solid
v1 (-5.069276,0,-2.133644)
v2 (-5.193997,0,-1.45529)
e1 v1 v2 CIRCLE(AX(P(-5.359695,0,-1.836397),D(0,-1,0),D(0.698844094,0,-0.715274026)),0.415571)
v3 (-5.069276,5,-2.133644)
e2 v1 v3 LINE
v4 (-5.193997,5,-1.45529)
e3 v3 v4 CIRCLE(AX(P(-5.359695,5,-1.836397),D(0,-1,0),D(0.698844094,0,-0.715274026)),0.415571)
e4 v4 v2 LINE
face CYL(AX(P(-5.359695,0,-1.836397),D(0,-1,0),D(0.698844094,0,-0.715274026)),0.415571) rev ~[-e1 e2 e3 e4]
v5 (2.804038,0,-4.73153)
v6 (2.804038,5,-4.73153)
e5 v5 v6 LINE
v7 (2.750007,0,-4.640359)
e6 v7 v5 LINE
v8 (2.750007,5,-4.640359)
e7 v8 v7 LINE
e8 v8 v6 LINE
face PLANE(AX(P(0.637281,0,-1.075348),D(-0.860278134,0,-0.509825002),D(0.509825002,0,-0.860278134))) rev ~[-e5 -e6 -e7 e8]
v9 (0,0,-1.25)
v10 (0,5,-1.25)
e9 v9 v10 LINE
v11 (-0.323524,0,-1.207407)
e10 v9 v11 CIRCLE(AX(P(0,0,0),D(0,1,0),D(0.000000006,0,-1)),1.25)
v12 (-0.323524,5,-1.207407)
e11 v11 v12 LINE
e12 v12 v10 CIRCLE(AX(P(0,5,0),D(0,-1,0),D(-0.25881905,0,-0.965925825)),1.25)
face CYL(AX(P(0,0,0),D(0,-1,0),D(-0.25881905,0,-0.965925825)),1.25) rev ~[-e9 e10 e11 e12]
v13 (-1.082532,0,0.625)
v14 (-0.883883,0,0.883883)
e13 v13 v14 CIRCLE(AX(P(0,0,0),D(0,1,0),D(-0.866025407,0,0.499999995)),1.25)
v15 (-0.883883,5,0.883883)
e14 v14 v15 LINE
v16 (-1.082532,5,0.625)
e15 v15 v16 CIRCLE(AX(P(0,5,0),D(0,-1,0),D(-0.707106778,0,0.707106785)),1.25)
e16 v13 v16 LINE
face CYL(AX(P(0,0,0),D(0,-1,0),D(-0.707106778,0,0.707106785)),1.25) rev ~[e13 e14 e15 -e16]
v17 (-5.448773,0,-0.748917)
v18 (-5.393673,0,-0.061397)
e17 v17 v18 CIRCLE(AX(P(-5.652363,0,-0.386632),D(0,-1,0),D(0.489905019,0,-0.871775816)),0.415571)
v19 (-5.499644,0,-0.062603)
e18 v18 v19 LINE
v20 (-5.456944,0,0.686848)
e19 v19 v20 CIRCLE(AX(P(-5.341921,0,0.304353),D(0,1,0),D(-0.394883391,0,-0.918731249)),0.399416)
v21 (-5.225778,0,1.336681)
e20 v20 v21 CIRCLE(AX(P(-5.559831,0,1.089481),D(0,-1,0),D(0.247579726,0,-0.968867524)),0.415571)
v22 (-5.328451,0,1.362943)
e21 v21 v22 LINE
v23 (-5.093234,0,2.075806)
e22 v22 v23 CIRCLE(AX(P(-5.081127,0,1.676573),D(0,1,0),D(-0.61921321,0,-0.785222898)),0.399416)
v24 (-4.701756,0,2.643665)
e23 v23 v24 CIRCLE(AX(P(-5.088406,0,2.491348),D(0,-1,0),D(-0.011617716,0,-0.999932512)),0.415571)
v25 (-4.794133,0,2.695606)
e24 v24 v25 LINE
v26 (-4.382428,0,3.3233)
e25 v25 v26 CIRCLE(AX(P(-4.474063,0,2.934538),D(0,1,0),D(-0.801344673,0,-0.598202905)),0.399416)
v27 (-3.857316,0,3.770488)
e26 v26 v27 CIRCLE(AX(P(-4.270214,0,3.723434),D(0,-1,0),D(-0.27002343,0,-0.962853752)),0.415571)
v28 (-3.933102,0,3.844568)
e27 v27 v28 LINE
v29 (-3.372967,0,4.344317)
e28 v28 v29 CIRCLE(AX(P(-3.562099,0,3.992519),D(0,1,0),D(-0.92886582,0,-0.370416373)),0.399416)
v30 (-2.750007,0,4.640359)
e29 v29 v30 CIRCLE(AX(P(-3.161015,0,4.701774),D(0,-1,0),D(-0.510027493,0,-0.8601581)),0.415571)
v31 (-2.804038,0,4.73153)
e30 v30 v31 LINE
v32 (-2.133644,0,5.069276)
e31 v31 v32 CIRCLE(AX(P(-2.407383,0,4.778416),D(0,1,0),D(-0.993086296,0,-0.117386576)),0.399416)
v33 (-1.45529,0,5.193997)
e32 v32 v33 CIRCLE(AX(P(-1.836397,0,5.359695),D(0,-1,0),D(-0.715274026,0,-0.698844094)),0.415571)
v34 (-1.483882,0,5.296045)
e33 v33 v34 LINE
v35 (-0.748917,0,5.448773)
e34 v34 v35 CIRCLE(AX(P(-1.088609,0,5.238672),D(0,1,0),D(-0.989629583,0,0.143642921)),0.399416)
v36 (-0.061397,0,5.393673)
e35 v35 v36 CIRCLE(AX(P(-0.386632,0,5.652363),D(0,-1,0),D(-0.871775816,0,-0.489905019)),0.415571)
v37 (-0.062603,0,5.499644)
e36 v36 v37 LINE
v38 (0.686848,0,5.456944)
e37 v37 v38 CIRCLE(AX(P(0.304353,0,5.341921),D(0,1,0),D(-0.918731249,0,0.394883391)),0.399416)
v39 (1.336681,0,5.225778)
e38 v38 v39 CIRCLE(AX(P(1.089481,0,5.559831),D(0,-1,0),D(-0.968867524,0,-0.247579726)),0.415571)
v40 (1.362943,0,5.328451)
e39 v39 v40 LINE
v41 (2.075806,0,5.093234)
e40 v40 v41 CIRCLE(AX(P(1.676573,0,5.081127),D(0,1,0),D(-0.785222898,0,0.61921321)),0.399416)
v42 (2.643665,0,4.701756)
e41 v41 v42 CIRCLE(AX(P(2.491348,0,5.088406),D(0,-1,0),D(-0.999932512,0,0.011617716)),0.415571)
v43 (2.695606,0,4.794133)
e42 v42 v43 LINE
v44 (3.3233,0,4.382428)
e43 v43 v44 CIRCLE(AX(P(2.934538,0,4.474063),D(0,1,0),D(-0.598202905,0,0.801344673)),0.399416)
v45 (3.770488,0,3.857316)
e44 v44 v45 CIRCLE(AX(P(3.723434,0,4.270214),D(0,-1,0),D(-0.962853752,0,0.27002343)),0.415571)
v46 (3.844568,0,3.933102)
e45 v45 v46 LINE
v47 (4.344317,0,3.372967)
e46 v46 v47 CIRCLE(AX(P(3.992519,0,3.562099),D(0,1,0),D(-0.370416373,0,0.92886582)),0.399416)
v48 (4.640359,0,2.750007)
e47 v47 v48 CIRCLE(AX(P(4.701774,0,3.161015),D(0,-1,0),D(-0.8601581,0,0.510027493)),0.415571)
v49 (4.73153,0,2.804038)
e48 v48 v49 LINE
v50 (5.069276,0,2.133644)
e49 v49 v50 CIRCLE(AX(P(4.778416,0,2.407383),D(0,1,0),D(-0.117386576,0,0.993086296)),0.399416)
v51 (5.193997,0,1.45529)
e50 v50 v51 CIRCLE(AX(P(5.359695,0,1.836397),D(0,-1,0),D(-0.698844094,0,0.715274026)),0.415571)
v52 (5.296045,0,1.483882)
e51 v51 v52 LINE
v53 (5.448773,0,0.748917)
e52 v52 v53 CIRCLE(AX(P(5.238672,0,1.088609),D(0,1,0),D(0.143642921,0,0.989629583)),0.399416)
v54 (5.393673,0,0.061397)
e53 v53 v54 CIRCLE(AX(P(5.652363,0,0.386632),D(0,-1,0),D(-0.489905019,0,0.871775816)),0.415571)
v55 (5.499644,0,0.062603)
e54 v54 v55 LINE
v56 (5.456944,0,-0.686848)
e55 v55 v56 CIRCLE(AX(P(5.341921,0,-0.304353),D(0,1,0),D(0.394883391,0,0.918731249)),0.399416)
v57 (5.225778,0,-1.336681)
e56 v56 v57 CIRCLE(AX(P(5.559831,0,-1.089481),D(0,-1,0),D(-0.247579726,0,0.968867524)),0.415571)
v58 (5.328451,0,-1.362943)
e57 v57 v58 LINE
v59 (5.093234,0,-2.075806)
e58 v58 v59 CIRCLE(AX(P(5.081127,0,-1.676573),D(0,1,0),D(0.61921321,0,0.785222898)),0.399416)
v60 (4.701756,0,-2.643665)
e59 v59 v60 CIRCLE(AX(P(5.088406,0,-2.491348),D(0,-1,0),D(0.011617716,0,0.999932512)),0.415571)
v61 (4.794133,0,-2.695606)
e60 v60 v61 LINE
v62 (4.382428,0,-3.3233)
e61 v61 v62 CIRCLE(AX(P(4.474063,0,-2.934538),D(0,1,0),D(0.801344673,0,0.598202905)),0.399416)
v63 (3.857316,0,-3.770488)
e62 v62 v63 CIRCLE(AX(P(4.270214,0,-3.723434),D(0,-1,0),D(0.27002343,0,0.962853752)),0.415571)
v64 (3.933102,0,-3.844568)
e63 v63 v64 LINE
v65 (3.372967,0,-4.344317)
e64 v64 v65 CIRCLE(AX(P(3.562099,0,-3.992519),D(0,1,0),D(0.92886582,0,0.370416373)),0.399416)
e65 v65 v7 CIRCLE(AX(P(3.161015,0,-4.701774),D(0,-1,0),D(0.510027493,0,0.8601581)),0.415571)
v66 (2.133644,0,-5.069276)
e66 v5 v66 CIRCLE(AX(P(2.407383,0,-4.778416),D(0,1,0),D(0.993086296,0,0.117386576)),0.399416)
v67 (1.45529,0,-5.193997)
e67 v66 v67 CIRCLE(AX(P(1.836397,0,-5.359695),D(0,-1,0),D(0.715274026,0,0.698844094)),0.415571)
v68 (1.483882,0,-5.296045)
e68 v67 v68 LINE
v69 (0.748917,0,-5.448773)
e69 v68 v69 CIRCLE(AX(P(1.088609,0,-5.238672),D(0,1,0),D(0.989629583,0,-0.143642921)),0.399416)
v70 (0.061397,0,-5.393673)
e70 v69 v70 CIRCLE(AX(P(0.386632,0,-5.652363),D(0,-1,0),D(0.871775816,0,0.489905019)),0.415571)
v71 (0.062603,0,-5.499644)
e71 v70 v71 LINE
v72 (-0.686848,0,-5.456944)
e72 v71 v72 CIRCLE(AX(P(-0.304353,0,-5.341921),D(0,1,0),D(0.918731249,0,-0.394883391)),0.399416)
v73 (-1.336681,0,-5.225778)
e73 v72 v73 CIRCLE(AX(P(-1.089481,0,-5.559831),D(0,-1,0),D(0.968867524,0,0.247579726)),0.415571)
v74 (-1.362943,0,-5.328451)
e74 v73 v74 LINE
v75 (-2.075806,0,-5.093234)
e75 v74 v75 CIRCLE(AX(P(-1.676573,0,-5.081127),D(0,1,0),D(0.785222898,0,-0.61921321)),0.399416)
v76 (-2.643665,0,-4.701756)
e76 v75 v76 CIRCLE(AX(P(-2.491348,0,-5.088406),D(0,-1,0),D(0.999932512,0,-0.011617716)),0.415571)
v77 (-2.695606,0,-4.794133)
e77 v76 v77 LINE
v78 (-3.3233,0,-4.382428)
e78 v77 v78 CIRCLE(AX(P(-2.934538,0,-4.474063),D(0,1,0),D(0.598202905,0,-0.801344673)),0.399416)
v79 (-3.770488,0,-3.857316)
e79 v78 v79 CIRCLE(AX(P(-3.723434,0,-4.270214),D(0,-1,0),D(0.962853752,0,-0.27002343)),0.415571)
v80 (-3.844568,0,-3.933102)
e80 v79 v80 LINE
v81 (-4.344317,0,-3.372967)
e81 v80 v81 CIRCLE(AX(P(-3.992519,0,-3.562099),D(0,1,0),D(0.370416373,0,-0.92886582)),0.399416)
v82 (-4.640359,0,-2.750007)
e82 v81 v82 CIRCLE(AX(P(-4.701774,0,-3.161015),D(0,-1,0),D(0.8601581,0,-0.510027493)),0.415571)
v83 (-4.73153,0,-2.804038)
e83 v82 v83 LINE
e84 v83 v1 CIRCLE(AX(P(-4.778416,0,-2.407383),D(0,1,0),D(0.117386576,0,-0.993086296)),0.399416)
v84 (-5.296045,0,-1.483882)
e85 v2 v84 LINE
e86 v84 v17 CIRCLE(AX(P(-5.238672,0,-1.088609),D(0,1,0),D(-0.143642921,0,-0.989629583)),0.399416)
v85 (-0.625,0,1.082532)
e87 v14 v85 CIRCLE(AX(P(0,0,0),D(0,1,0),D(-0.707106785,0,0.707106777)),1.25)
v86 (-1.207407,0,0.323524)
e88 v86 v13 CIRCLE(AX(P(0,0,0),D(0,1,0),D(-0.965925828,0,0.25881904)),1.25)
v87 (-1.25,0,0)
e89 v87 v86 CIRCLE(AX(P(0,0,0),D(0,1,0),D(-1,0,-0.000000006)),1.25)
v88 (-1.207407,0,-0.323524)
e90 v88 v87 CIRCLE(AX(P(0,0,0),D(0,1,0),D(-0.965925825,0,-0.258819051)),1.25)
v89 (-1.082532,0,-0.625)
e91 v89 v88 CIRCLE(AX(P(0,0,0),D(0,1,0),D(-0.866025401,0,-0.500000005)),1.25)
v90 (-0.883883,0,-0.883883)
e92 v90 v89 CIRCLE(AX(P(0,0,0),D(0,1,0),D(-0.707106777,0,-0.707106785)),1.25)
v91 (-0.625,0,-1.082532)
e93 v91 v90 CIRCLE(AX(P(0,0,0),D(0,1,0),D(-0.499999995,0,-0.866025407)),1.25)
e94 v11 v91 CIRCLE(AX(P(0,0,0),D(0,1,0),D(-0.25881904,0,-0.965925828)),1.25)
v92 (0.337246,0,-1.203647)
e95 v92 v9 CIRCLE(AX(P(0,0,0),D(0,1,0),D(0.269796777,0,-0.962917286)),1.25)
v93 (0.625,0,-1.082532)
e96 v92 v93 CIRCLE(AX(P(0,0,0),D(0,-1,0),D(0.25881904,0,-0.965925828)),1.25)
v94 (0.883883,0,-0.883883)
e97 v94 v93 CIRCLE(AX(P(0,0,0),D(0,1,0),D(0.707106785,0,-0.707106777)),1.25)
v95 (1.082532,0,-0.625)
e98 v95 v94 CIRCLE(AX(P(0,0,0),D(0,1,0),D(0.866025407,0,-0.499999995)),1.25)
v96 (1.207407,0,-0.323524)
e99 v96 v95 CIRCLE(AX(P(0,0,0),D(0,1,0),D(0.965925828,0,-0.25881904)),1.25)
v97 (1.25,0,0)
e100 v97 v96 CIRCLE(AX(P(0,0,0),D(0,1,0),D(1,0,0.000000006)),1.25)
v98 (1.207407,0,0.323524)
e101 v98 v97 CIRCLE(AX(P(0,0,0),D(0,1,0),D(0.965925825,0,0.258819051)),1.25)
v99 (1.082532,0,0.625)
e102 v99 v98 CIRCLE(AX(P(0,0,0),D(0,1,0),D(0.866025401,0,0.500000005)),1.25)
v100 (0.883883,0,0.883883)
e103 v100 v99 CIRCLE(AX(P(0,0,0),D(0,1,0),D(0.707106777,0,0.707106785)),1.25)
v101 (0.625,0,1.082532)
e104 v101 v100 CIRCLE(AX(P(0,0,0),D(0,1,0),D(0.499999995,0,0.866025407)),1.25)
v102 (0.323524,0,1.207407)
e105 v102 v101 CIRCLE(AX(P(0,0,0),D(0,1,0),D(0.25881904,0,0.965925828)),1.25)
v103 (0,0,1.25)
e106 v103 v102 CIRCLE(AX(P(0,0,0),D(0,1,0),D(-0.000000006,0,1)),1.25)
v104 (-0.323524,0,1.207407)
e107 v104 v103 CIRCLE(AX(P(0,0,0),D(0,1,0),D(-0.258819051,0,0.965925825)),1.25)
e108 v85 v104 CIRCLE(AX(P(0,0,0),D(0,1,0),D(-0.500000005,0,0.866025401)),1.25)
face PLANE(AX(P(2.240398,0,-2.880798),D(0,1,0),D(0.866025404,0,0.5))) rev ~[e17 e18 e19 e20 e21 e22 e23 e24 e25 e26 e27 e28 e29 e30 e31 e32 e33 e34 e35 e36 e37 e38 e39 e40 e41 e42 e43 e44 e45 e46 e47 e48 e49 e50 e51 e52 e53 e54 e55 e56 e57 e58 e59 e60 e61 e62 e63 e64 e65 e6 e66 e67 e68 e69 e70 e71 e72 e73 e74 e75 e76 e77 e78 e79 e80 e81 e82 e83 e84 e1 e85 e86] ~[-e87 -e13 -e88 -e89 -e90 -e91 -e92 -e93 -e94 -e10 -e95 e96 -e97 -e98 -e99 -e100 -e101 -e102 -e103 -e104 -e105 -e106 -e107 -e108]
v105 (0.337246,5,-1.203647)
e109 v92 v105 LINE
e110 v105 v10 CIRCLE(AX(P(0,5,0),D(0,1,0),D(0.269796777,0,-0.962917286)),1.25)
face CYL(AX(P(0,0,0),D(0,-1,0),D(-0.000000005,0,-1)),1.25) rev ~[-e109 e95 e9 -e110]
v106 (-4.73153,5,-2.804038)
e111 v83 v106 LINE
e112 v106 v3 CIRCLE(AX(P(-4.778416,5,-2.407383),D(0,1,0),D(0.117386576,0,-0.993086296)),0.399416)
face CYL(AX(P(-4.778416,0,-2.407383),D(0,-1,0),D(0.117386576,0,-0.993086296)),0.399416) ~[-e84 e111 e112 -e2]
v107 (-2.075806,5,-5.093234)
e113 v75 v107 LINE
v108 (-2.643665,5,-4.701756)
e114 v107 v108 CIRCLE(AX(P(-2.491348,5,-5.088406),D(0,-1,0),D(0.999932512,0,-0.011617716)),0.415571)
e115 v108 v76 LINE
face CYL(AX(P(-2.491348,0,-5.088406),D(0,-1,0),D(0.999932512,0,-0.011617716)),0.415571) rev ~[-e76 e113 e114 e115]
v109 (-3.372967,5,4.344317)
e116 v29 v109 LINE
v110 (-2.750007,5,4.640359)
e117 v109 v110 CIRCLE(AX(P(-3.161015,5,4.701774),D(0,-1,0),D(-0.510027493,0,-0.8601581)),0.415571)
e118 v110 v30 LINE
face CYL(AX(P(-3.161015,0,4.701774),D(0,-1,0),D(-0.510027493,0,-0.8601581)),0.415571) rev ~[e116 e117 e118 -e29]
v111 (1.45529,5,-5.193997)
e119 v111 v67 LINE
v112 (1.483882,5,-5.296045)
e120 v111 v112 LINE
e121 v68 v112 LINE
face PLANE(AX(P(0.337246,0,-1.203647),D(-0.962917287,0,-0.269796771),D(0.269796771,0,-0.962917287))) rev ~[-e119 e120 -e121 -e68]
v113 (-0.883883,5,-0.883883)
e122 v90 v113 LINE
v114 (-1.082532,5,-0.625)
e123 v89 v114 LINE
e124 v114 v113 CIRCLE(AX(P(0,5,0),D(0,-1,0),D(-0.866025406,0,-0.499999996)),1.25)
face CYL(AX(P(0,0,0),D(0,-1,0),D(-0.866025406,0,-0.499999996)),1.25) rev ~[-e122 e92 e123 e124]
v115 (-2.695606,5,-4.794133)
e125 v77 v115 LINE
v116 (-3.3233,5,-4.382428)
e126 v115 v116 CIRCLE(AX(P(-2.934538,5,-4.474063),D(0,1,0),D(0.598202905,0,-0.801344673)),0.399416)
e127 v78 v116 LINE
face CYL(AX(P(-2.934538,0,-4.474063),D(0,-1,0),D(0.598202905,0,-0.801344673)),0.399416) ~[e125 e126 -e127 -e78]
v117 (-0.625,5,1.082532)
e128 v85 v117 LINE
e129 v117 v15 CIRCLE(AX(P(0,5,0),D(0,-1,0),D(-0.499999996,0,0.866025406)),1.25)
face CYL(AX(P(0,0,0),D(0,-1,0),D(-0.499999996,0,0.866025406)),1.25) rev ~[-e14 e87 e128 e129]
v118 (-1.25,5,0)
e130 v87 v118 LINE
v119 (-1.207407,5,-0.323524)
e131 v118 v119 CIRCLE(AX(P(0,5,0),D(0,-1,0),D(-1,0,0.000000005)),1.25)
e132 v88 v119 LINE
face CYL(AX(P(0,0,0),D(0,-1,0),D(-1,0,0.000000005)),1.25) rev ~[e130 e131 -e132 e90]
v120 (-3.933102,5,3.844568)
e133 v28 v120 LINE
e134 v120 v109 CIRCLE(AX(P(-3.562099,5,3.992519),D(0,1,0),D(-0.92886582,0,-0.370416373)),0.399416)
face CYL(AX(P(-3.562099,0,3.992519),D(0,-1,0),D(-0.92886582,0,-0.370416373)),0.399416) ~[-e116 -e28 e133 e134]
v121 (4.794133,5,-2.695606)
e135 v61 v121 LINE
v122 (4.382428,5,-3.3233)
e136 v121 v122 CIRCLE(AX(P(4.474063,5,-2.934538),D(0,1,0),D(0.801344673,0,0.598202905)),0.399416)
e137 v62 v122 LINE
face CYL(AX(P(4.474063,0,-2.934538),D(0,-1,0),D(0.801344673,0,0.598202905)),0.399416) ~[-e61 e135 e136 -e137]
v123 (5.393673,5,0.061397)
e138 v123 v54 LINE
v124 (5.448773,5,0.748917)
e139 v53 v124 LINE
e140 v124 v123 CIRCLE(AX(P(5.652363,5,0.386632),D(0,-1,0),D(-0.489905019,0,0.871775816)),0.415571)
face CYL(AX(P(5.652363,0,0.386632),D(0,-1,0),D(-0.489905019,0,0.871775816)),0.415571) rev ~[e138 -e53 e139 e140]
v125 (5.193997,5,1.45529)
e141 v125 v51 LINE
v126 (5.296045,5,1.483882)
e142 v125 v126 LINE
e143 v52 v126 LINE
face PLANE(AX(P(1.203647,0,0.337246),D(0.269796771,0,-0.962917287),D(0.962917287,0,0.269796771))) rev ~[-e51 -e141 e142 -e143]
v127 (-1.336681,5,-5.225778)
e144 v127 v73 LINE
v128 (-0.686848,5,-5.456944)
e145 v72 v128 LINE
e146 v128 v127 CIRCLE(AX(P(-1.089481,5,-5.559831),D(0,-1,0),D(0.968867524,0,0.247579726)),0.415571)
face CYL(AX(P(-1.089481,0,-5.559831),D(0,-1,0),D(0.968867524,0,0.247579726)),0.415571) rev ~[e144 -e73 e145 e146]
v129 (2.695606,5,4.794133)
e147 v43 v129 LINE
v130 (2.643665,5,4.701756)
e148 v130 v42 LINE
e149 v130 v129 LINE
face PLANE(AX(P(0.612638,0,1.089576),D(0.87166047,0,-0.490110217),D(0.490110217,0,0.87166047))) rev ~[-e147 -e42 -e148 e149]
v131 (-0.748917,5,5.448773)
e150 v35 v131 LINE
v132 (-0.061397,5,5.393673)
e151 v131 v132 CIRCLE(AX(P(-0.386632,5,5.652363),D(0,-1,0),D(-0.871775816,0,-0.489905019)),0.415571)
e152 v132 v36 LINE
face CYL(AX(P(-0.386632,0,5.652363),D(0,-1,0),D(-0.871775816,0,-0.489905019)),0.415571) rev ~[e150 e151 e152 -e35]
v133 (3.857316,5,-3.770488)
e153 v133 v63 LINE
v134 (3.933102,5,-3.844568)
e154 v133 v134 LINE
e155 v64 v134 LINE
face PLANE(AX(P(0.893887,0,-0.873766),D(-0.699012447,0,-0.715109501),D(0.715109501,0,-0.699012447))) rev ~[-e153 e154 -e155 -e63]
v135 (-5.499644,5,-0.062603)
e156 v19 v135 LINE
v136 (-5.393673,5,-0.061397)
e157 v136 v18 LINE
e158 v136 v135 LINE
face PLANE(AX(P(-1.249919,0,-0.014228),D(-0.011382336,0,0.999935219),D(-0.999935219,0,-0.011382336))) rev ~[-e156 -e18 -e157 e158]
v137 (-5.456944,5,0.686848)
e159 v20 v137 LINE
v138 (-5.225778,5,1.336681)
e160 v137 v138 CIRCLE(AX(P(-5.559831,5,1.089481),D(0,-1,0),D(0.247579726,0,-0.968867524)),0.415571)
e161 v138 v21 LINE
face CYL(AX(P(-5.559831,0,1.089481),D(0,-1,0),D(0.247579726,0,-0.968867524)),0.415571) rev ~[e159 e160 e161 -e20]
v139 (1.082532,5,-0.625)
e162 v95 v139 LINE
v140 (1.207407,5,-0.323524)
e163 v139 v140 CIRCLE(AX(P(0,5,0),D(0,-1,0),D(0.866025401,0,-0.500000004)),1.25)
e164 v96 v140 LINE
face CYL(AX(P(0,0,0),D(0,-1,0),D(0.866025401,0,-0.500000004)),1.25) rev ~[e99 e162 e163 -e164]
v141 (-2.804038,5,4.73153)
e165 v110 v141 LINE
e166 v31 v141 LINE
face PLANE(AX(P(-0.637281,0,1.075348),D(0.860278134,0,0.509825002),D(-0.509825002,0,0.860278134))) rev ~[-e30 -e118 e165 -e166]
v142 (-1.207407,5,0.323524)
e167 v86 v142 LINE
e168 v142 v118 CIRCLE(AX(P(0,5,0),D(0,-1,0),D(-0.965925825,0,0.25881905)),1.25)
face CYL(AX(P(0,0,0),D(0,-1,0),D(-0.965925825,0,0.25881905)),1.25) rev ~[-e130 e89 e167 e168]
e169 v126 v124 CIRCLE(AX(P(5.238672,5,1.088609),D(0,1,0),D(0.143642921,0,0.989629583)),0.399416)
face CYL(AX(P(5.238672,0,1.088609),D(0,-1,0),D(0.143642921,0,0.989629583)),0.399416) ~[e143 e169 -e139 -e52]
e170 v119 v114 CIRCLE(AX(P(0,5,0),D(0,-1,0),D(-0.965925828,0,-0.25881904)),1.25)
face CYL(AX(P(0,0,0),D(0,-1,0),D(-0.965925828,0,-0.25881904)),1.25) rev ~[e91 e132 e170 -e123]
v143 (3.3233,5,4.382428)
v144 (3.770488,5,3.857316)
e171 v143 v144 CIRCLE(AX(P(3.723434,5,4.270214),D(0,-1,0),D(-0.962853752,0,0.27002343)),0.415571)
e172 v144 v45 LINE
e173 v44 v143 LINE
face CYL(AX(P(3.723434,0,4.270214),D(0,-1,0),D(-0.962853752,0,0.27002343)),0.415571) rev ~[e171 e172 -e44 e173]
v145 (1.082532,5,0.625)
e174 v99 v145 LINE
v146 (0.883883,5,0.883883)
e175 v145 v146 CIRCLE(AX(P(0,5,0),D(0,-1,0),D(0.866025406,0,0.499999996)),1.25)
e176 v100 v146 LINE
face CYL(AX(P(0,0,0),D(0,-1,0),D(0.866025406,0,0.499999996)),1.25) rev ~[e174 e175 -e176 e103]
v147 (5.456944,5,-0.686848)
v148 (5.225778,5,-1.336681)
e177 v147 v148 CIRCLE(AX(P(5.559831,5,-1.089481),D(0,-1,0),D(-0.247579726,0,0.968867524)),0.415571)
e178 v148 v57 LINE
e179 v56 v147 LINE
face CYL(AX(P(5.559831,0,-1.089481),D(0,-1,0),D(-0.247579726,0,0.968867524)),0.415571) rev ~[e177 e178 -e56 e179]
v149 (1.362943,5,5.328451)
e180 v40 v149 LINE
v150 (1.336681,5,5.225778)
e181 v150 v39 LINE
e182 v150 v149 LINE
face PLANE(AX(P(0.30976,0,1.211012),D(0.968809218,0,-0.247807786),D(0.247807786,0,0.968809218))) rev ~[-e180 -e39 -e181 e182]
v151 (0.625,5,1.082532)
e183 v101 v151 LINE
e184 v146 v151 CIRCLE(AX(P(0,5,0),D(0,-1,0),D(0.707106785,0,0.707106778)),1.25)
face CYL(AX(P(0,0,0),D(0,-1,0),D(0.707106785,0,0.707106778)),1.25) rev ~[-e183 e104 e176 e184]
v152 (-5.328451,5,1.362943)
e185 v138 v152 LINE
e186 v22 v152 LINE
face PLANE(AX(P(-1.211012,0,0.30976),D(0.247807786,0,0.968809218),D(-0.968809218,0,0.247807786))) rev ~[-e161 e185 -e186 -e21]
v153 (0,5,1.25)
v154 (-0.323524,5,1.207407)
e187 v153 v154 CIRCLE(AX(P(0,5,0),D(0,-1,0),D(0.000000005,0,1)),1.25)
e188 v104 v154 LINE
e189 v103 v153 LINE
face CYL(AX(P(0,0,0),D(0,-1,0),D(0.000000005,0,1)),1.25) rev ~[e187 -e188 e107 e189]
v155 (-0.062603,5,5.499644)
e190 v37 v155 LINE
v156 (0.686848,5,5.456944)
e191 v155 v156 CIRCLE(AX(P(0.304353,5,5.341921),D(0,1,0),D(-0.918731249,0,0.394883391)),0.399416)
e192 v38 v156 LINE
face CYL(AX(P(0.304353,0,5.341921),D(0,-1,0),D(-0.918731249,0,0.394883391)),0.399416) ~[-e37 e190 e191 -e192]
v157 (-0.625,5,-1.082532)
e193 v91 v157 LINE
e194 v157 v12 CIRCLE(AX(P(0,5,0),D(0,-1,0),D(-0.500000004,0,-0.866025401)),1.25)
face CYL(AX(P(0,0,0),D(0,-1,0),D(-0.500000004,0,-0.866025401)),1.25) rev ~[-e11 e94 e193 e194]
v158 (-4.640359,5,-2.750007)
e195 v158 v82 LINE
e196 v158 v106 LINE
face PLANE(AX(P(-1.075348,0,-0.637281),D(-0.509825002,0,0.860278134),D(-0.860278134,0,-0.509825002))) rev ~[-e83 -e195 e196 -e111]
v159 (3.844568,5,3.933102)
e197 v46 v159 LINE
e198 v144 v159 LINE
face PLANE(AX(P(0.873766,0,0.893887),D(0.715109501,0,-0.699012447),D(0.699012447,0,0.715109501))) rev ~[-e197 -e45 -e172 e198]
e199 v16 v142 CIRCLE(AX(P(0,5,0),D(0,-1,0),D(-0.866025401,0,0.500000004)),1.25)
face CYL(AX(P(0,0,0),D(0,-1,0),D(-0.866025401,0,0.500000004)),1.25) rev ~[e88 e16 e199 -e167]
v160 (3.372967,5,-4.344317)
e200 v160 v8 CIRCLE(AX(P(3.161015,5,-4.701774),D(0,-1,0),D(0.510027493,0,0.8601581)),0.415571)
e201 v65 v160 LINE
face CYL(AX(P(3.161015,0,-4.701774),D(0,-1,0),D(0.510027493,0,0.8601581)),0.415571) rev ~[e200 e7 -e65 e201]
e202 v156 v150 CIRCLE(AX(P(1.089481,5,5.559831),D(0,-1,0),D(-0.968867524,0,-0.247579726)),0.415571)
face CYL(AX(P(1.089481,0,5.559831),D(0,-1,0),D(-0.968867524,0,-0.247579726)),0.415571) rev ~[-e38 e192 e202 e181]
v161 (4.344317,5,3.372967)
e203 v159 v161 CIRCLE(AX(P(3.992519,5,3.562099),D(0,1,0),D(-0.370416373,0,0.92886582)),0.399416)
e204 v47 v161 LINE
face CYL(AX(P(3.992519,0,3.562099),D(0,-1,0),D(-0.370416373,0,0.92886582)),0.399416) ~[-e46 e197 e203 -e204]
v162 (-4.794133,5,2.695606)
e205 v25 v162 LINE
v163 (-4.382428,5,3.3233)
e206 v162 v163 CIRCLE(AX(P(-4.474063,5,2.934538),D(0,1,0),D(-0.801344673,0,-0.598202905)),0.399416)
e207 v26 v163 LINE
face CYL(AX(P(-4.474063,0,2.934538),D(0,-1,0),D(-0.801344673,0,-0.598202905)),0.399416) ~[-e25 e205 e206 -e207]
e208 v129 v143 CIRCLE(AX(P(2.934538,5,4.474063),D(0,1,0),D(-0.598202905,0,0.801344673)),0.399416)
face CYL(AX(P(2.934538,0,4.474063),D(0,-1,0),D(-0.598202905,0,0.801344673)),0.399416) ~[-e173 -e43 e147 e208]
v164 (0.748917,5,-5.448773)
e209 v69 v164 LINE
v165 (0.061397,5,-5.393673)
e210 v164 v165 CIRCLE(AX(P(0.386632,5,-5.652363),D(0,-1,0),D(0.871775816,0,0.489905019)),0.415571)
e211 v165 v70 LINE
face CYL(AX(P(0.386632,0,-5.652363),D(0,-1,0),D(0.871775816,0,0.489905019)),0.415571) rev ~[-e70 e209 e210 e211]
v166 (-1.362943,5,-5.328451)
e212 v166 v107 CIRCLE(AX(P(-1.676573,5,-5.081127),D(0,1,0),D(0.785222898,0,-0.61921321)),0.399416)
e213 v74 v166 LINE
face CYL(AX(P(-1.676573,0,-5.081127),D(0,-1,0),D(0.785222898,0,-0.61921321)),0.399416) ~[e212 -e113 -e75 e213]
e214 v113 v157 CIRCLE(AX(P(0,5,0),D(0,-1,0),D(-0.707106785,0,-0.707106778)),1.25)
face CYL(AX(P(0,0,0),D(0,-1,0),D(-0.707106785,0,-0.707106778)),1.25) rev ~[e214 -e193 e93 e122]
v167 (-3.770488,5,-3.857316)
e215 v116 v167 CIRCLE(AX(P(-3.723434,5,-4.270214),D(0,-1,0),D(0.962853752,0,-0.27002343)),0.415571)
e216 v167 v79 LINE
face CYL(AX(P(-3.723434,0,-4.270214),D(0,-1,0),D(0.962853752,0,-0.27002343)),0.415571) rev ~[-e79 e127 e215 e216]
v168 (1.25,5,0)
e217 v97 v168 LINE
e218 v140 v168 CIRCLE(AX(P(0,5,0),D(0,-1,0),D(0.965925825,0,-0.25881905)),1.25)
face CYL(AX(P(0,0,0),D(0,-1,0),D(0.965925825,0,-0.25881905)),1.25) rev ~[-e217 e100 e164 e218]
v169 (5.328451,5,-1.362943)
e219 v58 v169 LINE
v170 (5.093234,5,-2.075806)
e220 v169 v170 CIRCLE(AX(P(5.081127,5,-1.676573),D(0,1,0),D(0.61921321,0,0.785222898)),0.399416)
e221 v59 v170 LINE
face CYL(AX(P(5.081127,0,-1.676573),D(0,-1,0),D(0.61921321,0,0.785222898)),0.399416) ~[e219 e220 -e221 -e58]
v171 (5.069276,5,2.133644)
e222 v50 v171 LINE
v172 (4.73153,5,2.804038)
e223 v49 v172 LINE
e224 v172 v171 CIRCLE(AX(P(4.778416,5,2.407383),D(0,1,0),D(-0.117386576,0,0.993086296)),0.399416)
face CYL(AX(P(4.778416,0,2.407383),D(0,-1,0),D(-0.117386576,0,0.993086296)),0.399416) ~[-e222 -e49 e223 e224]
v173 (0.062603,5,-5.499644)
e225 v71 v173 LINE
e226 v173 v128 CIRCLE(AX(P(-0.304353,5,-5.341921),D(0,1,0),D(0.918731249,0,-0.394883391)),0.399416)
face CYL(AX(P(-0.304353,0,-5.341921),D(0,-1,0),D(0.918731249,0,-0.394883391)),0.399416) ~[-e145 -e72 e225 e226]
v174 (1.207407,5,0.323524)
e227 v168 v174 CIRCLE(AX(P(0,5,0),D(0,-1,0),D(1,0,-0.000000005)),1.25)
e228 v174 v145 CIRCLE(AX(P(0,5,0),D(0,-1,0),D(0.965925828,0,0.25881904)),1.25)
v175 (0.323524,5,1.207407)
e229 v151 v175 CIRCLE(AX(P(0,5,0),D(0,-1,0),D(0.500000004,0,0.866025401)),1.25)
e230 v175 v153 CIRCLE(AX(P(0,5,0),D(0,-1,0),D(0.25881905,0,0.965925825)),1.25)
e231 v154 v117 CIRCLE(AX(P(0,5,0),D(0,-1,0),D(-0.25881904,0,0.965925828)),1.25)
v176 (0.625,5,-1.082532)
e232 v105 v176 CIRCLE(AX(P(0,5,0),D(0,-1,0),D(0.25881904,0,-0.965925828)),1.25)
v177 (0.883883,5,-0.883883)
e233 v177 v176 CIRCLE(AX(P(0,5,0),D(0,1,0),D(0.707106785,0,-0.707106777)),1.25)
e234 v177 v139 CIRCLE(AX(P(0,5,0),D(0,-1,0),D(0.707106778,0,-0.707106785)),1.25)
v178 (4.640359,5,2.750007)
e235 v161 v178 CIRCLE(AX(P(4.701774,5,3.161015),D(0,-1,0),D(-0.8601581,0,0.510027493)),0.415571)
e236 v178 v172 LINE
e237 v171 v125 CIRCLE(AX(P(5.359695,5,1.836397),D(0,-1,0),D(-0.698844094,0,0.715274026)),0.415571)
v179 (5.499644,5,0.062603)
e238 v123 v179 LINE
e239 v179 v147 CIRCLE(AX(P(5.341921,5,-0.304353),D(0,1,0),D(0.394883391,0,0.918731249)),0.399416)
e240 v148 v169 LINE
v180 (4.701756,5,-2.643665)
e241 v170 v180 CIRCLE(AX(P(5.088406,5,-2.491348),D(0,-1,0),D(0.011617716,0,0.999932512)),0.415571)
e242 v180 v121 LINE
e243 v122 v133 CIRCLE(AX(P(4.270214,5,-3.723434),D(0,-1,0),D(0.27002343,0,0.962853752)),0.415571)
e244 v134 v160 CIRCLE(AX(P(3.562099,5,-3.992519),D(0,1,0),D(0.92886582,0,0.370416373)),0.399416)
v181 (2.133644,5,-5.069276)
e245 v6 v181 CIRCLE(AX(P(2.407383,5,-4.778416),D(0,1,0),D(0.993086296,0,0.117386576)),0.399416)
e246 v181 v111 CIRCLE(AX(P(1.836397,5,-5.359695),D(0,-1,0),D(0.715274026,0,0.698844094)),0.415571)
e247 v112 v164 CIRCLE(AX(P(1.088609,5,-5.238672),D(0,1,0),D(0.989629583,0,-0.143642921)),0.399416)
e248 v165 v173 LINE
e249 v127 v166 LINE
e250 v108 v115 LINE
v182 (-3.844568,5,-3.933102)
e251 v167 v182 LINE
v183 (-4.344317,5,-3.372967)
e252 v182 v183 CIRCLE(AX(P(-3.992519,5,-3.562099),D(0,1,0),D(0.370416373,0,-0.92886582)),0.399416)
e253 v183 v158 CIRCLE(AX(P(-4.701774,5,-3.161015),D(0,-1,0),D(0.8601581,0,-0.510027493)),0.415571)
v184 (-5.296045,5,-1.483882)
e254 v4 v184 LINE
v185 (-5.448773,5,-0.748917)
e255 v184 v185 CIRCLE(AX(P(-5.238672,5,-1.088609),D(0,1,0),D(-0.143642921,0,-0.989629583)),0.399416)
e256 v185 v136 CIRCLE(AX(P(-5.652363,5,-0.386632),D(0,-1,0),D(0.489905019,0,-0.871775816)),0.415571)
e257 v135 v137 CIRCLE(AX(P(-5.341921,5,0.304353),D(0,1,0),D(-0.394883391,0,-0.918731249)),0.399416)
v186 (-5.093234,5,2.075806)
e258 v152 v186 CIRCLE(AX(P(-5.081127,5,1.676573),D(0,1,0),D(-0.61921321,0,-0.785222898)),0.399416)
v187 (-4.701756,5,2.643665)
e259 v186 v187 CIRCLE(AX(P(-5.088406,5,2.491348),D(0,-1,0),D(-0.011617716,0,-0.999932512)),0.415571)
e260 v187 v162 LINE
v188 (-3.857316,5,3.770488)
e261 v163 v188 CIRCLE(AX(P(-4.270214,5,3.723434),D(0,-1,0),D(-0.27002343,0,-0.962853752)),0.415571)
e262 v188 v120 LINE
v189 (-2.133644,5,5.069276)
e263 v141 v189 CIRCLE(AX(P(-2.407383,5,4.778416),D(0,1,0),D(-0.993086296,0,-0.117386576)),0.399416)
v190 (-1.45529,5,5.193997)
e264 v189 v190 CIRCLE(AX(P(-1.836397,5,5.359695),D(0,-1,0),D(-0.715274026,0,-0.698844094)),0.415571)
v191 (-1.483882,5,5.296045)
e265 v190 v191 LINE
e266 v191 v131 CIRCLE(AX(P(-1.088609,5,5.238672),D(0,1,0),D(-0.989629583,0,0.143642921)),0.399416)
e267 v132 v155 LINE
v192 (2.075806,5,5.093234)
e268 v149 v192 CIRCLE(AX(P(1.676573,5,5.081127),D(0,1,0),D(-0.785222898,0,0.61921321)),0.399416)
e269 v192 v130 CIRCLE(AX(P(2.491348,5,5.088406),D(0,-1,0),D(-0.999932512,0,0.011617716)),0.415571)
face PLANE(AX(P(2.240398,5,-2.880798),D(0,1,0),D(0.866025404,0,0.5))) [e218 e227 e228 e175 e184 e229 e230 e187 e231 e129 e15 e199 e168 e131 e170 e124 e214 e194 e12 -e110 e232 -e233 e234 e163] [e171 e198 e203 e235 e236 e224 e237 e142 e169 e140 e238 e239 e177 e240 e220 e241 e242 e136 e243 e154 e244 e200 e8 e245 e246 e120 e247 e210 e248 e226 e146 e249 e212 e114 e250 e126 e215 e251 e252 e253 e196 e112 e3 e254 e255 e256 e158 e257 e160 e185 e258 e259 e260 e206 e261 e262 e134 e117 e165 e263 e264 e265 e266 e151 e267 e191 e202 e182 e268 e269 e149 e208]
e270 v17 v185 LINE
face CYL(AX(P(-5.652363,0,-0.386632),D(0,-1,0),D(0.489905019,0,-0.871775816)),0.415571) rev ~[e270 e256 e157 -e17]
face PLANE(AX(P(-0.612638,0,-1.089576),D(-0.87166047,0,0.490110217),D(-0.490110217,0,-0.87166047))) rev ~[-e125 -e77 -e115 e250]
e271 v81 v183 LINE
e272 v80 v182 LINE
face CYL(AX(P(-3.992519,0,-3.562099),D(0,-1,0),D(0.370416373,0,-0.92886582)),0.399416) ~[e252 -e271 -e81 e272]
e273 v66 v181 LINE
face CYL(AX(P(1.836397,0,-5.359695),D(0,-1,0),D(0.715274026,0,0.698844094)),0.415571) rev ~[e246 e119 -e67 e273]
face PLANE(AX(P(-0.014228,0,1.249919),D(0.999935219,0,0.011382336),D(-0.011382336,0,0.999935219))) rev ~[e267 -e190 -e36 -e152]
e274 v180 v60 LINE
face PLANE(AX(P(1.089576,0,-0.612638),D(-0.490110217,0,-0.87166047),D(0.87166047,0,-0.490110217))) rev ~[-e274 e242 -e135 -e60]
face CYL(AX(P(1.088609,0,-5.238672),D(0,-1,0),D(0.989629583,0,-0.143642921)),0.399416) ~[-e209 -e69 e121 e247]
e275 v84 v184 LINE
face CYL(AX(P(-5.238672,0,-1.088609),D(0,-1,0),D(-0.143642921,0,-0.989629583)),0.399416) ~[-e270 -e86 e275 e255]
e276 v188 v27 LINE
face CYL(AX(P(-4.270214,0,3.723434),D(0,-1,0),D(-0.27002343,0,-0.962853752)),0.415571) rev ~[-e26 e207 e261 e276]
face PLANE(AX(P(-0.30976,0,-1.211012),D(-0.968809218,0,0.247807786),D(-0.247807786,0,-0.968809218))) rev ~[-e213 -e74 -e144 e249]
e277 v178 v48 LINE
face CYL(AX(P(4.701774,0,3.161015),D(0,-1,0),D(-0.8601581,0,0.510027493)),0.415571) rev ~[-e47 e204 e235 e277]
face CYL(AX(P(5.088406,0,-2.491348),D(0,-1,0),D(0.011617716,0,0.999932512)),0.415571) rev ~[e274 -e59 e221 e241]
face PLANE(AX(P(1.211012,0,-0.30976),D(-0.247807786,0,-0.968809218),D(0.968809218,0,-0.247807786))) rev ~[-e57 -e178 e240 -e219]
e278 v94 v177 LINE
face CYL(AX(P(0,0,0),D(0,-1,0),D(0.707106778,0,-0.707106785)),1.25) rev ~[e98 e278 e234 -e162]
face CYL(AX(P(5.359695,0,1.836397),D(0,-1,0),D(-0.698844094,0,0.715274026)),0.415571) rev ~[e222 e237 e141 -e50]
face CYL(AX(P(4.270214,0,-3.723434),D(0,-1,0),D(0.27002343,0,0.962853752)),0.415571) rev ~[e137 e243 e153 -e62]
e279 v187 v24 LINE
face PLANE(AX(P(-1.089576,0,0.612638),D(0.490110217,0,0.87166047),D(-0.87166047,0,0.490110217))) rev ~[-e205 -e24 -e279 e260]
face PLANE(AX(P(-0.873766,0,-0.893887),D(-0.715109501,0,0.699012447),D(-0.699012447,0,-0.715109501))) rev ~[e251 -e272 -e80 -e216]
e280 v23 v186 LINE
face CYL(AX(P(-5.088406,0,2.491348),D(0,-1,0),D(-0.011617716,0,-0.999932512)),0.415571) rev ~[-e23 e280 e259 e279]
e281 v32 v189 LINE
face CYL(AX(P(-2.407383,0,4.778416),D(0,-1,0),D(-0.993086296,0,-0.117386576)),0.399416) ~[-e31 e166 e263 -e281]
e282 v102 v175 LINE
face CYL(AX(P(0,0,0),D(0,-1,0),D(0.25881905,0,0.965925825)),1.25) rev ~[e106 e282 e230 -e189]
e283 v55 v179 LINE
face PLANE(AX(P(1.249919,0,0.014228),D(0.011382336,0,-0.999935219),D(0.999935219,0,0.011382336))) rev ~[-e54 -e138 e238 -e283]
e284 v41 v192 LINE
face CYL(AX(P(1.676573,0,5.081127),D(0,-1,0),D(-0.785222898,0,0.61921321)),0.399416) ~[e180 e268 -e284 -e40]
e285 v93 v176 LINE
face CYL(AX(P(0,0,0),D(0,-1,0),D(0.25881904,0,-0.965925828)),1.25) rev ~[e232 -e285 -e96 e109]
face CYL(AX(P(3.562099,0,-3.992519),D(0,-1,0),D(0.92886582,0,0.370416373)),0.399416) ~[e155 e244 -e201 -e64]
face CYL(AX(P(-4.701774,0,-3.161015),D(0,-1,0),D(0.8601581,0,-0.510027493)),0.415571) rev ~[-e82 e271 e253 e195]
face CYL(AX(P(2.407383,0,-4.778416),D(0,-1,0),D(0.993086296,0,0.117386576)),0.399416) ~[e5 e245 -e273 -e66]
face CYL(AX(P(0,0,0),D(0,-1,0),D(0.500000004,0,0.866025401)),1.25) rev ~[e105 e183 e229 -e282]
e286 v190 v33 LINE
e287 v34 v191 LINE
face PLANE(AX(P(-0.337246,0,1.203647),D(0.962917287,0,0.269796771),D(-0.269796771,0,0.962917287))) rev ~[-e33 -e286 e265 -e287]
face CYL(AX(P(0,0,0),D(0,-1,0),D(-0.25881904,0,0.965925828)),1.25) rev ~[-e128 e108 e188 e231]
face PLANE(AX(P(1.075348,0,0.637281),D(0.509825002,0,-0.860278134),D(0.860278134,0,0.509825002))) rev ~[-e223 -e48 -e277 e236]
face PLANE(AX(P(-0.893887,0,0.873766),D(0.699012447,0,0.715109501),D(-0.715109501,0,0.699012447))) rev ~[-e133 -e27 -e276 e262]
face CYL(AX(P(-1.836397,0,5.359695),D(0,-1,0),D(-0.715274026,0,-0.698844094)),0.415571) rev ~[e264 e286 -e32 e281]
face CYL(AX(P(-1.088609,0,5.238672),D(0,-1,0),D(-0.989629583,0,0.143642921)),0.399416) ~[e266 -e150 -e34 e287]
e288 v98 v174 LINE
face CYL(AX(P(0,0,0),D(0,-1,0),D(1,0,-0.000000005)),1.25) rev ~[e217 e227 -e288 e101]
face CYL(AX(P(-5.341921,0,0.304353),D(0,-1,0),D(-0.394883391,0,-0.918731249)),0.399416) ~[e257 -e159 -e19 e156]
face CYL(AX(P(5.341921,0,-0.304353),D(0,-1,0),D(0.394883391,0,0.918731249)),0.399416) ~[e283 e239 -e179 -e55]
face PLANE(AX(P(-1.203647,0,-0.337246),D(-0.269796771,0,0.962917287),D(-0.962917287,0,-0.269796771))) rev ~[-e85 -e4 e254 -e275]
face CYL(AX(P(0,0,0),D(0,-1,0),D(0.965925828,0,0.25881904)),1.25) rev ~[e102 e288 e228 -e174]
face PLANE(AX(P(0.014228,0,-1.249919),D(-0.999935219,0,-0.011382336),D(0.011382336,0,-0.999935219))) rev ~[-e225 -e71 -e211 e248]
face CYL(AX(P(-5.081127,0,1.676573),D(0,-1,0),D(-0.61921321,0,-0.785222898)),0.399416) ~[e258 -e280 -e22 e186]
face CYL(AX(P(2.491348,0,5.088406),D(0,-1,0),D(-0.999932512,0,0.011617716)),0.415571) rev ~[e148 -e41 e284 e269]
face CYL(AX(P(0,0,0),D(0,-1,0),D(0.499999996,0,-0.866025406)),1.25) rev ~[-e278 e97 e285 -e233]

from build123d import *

# Parameters (mm, degrees)
BOSS_EXTRUDE1_DEPTH = 5
CIRPATTERN1_COUNT   = 24


with BuildPart() as part:
    # Sketch1 → Boss-Extrude1 (new body)
    with BuildSketch(Plane(origin=(0, 0, 0), x_dir=(1, 0, 0), z_dir=(0, 1, 0))):
        with BuildLine():
            Line((0, 5.5), (0, 1.25))
            ThreePointArc((0, 1.25), (0.170208311, 1.238357433), (0.337245964, 1.203646609))
            Line((0.337245964, 1.203646609), (1.483882241, 5.29604508))
            ThreePointArc((1.483882241, 5.29604508), (1.169872075, 5.629733504), (0.74891657, 5.448772703))
            ThreePointArc((0.74891657, 5.448772703), (0.35827267, 5.237761038), (0, 5.5))
        make_face()
    boss_extrude1 = extrude(amount=BOSS_EXTRUDE1_DEPTH)

    # CirPattern1: Boss-Extrude1 ×24 about axis
    cirpattern1_axis = Axis((0, 0, 0), (0, 1, 0))
    for i in range(1, CIRPATTERN1_COUNT):
        add(boss_extrude1.rotate(cirpattern1_axis, i * 360 / CIRPATTERN1_COUNT))


solid = part.part
